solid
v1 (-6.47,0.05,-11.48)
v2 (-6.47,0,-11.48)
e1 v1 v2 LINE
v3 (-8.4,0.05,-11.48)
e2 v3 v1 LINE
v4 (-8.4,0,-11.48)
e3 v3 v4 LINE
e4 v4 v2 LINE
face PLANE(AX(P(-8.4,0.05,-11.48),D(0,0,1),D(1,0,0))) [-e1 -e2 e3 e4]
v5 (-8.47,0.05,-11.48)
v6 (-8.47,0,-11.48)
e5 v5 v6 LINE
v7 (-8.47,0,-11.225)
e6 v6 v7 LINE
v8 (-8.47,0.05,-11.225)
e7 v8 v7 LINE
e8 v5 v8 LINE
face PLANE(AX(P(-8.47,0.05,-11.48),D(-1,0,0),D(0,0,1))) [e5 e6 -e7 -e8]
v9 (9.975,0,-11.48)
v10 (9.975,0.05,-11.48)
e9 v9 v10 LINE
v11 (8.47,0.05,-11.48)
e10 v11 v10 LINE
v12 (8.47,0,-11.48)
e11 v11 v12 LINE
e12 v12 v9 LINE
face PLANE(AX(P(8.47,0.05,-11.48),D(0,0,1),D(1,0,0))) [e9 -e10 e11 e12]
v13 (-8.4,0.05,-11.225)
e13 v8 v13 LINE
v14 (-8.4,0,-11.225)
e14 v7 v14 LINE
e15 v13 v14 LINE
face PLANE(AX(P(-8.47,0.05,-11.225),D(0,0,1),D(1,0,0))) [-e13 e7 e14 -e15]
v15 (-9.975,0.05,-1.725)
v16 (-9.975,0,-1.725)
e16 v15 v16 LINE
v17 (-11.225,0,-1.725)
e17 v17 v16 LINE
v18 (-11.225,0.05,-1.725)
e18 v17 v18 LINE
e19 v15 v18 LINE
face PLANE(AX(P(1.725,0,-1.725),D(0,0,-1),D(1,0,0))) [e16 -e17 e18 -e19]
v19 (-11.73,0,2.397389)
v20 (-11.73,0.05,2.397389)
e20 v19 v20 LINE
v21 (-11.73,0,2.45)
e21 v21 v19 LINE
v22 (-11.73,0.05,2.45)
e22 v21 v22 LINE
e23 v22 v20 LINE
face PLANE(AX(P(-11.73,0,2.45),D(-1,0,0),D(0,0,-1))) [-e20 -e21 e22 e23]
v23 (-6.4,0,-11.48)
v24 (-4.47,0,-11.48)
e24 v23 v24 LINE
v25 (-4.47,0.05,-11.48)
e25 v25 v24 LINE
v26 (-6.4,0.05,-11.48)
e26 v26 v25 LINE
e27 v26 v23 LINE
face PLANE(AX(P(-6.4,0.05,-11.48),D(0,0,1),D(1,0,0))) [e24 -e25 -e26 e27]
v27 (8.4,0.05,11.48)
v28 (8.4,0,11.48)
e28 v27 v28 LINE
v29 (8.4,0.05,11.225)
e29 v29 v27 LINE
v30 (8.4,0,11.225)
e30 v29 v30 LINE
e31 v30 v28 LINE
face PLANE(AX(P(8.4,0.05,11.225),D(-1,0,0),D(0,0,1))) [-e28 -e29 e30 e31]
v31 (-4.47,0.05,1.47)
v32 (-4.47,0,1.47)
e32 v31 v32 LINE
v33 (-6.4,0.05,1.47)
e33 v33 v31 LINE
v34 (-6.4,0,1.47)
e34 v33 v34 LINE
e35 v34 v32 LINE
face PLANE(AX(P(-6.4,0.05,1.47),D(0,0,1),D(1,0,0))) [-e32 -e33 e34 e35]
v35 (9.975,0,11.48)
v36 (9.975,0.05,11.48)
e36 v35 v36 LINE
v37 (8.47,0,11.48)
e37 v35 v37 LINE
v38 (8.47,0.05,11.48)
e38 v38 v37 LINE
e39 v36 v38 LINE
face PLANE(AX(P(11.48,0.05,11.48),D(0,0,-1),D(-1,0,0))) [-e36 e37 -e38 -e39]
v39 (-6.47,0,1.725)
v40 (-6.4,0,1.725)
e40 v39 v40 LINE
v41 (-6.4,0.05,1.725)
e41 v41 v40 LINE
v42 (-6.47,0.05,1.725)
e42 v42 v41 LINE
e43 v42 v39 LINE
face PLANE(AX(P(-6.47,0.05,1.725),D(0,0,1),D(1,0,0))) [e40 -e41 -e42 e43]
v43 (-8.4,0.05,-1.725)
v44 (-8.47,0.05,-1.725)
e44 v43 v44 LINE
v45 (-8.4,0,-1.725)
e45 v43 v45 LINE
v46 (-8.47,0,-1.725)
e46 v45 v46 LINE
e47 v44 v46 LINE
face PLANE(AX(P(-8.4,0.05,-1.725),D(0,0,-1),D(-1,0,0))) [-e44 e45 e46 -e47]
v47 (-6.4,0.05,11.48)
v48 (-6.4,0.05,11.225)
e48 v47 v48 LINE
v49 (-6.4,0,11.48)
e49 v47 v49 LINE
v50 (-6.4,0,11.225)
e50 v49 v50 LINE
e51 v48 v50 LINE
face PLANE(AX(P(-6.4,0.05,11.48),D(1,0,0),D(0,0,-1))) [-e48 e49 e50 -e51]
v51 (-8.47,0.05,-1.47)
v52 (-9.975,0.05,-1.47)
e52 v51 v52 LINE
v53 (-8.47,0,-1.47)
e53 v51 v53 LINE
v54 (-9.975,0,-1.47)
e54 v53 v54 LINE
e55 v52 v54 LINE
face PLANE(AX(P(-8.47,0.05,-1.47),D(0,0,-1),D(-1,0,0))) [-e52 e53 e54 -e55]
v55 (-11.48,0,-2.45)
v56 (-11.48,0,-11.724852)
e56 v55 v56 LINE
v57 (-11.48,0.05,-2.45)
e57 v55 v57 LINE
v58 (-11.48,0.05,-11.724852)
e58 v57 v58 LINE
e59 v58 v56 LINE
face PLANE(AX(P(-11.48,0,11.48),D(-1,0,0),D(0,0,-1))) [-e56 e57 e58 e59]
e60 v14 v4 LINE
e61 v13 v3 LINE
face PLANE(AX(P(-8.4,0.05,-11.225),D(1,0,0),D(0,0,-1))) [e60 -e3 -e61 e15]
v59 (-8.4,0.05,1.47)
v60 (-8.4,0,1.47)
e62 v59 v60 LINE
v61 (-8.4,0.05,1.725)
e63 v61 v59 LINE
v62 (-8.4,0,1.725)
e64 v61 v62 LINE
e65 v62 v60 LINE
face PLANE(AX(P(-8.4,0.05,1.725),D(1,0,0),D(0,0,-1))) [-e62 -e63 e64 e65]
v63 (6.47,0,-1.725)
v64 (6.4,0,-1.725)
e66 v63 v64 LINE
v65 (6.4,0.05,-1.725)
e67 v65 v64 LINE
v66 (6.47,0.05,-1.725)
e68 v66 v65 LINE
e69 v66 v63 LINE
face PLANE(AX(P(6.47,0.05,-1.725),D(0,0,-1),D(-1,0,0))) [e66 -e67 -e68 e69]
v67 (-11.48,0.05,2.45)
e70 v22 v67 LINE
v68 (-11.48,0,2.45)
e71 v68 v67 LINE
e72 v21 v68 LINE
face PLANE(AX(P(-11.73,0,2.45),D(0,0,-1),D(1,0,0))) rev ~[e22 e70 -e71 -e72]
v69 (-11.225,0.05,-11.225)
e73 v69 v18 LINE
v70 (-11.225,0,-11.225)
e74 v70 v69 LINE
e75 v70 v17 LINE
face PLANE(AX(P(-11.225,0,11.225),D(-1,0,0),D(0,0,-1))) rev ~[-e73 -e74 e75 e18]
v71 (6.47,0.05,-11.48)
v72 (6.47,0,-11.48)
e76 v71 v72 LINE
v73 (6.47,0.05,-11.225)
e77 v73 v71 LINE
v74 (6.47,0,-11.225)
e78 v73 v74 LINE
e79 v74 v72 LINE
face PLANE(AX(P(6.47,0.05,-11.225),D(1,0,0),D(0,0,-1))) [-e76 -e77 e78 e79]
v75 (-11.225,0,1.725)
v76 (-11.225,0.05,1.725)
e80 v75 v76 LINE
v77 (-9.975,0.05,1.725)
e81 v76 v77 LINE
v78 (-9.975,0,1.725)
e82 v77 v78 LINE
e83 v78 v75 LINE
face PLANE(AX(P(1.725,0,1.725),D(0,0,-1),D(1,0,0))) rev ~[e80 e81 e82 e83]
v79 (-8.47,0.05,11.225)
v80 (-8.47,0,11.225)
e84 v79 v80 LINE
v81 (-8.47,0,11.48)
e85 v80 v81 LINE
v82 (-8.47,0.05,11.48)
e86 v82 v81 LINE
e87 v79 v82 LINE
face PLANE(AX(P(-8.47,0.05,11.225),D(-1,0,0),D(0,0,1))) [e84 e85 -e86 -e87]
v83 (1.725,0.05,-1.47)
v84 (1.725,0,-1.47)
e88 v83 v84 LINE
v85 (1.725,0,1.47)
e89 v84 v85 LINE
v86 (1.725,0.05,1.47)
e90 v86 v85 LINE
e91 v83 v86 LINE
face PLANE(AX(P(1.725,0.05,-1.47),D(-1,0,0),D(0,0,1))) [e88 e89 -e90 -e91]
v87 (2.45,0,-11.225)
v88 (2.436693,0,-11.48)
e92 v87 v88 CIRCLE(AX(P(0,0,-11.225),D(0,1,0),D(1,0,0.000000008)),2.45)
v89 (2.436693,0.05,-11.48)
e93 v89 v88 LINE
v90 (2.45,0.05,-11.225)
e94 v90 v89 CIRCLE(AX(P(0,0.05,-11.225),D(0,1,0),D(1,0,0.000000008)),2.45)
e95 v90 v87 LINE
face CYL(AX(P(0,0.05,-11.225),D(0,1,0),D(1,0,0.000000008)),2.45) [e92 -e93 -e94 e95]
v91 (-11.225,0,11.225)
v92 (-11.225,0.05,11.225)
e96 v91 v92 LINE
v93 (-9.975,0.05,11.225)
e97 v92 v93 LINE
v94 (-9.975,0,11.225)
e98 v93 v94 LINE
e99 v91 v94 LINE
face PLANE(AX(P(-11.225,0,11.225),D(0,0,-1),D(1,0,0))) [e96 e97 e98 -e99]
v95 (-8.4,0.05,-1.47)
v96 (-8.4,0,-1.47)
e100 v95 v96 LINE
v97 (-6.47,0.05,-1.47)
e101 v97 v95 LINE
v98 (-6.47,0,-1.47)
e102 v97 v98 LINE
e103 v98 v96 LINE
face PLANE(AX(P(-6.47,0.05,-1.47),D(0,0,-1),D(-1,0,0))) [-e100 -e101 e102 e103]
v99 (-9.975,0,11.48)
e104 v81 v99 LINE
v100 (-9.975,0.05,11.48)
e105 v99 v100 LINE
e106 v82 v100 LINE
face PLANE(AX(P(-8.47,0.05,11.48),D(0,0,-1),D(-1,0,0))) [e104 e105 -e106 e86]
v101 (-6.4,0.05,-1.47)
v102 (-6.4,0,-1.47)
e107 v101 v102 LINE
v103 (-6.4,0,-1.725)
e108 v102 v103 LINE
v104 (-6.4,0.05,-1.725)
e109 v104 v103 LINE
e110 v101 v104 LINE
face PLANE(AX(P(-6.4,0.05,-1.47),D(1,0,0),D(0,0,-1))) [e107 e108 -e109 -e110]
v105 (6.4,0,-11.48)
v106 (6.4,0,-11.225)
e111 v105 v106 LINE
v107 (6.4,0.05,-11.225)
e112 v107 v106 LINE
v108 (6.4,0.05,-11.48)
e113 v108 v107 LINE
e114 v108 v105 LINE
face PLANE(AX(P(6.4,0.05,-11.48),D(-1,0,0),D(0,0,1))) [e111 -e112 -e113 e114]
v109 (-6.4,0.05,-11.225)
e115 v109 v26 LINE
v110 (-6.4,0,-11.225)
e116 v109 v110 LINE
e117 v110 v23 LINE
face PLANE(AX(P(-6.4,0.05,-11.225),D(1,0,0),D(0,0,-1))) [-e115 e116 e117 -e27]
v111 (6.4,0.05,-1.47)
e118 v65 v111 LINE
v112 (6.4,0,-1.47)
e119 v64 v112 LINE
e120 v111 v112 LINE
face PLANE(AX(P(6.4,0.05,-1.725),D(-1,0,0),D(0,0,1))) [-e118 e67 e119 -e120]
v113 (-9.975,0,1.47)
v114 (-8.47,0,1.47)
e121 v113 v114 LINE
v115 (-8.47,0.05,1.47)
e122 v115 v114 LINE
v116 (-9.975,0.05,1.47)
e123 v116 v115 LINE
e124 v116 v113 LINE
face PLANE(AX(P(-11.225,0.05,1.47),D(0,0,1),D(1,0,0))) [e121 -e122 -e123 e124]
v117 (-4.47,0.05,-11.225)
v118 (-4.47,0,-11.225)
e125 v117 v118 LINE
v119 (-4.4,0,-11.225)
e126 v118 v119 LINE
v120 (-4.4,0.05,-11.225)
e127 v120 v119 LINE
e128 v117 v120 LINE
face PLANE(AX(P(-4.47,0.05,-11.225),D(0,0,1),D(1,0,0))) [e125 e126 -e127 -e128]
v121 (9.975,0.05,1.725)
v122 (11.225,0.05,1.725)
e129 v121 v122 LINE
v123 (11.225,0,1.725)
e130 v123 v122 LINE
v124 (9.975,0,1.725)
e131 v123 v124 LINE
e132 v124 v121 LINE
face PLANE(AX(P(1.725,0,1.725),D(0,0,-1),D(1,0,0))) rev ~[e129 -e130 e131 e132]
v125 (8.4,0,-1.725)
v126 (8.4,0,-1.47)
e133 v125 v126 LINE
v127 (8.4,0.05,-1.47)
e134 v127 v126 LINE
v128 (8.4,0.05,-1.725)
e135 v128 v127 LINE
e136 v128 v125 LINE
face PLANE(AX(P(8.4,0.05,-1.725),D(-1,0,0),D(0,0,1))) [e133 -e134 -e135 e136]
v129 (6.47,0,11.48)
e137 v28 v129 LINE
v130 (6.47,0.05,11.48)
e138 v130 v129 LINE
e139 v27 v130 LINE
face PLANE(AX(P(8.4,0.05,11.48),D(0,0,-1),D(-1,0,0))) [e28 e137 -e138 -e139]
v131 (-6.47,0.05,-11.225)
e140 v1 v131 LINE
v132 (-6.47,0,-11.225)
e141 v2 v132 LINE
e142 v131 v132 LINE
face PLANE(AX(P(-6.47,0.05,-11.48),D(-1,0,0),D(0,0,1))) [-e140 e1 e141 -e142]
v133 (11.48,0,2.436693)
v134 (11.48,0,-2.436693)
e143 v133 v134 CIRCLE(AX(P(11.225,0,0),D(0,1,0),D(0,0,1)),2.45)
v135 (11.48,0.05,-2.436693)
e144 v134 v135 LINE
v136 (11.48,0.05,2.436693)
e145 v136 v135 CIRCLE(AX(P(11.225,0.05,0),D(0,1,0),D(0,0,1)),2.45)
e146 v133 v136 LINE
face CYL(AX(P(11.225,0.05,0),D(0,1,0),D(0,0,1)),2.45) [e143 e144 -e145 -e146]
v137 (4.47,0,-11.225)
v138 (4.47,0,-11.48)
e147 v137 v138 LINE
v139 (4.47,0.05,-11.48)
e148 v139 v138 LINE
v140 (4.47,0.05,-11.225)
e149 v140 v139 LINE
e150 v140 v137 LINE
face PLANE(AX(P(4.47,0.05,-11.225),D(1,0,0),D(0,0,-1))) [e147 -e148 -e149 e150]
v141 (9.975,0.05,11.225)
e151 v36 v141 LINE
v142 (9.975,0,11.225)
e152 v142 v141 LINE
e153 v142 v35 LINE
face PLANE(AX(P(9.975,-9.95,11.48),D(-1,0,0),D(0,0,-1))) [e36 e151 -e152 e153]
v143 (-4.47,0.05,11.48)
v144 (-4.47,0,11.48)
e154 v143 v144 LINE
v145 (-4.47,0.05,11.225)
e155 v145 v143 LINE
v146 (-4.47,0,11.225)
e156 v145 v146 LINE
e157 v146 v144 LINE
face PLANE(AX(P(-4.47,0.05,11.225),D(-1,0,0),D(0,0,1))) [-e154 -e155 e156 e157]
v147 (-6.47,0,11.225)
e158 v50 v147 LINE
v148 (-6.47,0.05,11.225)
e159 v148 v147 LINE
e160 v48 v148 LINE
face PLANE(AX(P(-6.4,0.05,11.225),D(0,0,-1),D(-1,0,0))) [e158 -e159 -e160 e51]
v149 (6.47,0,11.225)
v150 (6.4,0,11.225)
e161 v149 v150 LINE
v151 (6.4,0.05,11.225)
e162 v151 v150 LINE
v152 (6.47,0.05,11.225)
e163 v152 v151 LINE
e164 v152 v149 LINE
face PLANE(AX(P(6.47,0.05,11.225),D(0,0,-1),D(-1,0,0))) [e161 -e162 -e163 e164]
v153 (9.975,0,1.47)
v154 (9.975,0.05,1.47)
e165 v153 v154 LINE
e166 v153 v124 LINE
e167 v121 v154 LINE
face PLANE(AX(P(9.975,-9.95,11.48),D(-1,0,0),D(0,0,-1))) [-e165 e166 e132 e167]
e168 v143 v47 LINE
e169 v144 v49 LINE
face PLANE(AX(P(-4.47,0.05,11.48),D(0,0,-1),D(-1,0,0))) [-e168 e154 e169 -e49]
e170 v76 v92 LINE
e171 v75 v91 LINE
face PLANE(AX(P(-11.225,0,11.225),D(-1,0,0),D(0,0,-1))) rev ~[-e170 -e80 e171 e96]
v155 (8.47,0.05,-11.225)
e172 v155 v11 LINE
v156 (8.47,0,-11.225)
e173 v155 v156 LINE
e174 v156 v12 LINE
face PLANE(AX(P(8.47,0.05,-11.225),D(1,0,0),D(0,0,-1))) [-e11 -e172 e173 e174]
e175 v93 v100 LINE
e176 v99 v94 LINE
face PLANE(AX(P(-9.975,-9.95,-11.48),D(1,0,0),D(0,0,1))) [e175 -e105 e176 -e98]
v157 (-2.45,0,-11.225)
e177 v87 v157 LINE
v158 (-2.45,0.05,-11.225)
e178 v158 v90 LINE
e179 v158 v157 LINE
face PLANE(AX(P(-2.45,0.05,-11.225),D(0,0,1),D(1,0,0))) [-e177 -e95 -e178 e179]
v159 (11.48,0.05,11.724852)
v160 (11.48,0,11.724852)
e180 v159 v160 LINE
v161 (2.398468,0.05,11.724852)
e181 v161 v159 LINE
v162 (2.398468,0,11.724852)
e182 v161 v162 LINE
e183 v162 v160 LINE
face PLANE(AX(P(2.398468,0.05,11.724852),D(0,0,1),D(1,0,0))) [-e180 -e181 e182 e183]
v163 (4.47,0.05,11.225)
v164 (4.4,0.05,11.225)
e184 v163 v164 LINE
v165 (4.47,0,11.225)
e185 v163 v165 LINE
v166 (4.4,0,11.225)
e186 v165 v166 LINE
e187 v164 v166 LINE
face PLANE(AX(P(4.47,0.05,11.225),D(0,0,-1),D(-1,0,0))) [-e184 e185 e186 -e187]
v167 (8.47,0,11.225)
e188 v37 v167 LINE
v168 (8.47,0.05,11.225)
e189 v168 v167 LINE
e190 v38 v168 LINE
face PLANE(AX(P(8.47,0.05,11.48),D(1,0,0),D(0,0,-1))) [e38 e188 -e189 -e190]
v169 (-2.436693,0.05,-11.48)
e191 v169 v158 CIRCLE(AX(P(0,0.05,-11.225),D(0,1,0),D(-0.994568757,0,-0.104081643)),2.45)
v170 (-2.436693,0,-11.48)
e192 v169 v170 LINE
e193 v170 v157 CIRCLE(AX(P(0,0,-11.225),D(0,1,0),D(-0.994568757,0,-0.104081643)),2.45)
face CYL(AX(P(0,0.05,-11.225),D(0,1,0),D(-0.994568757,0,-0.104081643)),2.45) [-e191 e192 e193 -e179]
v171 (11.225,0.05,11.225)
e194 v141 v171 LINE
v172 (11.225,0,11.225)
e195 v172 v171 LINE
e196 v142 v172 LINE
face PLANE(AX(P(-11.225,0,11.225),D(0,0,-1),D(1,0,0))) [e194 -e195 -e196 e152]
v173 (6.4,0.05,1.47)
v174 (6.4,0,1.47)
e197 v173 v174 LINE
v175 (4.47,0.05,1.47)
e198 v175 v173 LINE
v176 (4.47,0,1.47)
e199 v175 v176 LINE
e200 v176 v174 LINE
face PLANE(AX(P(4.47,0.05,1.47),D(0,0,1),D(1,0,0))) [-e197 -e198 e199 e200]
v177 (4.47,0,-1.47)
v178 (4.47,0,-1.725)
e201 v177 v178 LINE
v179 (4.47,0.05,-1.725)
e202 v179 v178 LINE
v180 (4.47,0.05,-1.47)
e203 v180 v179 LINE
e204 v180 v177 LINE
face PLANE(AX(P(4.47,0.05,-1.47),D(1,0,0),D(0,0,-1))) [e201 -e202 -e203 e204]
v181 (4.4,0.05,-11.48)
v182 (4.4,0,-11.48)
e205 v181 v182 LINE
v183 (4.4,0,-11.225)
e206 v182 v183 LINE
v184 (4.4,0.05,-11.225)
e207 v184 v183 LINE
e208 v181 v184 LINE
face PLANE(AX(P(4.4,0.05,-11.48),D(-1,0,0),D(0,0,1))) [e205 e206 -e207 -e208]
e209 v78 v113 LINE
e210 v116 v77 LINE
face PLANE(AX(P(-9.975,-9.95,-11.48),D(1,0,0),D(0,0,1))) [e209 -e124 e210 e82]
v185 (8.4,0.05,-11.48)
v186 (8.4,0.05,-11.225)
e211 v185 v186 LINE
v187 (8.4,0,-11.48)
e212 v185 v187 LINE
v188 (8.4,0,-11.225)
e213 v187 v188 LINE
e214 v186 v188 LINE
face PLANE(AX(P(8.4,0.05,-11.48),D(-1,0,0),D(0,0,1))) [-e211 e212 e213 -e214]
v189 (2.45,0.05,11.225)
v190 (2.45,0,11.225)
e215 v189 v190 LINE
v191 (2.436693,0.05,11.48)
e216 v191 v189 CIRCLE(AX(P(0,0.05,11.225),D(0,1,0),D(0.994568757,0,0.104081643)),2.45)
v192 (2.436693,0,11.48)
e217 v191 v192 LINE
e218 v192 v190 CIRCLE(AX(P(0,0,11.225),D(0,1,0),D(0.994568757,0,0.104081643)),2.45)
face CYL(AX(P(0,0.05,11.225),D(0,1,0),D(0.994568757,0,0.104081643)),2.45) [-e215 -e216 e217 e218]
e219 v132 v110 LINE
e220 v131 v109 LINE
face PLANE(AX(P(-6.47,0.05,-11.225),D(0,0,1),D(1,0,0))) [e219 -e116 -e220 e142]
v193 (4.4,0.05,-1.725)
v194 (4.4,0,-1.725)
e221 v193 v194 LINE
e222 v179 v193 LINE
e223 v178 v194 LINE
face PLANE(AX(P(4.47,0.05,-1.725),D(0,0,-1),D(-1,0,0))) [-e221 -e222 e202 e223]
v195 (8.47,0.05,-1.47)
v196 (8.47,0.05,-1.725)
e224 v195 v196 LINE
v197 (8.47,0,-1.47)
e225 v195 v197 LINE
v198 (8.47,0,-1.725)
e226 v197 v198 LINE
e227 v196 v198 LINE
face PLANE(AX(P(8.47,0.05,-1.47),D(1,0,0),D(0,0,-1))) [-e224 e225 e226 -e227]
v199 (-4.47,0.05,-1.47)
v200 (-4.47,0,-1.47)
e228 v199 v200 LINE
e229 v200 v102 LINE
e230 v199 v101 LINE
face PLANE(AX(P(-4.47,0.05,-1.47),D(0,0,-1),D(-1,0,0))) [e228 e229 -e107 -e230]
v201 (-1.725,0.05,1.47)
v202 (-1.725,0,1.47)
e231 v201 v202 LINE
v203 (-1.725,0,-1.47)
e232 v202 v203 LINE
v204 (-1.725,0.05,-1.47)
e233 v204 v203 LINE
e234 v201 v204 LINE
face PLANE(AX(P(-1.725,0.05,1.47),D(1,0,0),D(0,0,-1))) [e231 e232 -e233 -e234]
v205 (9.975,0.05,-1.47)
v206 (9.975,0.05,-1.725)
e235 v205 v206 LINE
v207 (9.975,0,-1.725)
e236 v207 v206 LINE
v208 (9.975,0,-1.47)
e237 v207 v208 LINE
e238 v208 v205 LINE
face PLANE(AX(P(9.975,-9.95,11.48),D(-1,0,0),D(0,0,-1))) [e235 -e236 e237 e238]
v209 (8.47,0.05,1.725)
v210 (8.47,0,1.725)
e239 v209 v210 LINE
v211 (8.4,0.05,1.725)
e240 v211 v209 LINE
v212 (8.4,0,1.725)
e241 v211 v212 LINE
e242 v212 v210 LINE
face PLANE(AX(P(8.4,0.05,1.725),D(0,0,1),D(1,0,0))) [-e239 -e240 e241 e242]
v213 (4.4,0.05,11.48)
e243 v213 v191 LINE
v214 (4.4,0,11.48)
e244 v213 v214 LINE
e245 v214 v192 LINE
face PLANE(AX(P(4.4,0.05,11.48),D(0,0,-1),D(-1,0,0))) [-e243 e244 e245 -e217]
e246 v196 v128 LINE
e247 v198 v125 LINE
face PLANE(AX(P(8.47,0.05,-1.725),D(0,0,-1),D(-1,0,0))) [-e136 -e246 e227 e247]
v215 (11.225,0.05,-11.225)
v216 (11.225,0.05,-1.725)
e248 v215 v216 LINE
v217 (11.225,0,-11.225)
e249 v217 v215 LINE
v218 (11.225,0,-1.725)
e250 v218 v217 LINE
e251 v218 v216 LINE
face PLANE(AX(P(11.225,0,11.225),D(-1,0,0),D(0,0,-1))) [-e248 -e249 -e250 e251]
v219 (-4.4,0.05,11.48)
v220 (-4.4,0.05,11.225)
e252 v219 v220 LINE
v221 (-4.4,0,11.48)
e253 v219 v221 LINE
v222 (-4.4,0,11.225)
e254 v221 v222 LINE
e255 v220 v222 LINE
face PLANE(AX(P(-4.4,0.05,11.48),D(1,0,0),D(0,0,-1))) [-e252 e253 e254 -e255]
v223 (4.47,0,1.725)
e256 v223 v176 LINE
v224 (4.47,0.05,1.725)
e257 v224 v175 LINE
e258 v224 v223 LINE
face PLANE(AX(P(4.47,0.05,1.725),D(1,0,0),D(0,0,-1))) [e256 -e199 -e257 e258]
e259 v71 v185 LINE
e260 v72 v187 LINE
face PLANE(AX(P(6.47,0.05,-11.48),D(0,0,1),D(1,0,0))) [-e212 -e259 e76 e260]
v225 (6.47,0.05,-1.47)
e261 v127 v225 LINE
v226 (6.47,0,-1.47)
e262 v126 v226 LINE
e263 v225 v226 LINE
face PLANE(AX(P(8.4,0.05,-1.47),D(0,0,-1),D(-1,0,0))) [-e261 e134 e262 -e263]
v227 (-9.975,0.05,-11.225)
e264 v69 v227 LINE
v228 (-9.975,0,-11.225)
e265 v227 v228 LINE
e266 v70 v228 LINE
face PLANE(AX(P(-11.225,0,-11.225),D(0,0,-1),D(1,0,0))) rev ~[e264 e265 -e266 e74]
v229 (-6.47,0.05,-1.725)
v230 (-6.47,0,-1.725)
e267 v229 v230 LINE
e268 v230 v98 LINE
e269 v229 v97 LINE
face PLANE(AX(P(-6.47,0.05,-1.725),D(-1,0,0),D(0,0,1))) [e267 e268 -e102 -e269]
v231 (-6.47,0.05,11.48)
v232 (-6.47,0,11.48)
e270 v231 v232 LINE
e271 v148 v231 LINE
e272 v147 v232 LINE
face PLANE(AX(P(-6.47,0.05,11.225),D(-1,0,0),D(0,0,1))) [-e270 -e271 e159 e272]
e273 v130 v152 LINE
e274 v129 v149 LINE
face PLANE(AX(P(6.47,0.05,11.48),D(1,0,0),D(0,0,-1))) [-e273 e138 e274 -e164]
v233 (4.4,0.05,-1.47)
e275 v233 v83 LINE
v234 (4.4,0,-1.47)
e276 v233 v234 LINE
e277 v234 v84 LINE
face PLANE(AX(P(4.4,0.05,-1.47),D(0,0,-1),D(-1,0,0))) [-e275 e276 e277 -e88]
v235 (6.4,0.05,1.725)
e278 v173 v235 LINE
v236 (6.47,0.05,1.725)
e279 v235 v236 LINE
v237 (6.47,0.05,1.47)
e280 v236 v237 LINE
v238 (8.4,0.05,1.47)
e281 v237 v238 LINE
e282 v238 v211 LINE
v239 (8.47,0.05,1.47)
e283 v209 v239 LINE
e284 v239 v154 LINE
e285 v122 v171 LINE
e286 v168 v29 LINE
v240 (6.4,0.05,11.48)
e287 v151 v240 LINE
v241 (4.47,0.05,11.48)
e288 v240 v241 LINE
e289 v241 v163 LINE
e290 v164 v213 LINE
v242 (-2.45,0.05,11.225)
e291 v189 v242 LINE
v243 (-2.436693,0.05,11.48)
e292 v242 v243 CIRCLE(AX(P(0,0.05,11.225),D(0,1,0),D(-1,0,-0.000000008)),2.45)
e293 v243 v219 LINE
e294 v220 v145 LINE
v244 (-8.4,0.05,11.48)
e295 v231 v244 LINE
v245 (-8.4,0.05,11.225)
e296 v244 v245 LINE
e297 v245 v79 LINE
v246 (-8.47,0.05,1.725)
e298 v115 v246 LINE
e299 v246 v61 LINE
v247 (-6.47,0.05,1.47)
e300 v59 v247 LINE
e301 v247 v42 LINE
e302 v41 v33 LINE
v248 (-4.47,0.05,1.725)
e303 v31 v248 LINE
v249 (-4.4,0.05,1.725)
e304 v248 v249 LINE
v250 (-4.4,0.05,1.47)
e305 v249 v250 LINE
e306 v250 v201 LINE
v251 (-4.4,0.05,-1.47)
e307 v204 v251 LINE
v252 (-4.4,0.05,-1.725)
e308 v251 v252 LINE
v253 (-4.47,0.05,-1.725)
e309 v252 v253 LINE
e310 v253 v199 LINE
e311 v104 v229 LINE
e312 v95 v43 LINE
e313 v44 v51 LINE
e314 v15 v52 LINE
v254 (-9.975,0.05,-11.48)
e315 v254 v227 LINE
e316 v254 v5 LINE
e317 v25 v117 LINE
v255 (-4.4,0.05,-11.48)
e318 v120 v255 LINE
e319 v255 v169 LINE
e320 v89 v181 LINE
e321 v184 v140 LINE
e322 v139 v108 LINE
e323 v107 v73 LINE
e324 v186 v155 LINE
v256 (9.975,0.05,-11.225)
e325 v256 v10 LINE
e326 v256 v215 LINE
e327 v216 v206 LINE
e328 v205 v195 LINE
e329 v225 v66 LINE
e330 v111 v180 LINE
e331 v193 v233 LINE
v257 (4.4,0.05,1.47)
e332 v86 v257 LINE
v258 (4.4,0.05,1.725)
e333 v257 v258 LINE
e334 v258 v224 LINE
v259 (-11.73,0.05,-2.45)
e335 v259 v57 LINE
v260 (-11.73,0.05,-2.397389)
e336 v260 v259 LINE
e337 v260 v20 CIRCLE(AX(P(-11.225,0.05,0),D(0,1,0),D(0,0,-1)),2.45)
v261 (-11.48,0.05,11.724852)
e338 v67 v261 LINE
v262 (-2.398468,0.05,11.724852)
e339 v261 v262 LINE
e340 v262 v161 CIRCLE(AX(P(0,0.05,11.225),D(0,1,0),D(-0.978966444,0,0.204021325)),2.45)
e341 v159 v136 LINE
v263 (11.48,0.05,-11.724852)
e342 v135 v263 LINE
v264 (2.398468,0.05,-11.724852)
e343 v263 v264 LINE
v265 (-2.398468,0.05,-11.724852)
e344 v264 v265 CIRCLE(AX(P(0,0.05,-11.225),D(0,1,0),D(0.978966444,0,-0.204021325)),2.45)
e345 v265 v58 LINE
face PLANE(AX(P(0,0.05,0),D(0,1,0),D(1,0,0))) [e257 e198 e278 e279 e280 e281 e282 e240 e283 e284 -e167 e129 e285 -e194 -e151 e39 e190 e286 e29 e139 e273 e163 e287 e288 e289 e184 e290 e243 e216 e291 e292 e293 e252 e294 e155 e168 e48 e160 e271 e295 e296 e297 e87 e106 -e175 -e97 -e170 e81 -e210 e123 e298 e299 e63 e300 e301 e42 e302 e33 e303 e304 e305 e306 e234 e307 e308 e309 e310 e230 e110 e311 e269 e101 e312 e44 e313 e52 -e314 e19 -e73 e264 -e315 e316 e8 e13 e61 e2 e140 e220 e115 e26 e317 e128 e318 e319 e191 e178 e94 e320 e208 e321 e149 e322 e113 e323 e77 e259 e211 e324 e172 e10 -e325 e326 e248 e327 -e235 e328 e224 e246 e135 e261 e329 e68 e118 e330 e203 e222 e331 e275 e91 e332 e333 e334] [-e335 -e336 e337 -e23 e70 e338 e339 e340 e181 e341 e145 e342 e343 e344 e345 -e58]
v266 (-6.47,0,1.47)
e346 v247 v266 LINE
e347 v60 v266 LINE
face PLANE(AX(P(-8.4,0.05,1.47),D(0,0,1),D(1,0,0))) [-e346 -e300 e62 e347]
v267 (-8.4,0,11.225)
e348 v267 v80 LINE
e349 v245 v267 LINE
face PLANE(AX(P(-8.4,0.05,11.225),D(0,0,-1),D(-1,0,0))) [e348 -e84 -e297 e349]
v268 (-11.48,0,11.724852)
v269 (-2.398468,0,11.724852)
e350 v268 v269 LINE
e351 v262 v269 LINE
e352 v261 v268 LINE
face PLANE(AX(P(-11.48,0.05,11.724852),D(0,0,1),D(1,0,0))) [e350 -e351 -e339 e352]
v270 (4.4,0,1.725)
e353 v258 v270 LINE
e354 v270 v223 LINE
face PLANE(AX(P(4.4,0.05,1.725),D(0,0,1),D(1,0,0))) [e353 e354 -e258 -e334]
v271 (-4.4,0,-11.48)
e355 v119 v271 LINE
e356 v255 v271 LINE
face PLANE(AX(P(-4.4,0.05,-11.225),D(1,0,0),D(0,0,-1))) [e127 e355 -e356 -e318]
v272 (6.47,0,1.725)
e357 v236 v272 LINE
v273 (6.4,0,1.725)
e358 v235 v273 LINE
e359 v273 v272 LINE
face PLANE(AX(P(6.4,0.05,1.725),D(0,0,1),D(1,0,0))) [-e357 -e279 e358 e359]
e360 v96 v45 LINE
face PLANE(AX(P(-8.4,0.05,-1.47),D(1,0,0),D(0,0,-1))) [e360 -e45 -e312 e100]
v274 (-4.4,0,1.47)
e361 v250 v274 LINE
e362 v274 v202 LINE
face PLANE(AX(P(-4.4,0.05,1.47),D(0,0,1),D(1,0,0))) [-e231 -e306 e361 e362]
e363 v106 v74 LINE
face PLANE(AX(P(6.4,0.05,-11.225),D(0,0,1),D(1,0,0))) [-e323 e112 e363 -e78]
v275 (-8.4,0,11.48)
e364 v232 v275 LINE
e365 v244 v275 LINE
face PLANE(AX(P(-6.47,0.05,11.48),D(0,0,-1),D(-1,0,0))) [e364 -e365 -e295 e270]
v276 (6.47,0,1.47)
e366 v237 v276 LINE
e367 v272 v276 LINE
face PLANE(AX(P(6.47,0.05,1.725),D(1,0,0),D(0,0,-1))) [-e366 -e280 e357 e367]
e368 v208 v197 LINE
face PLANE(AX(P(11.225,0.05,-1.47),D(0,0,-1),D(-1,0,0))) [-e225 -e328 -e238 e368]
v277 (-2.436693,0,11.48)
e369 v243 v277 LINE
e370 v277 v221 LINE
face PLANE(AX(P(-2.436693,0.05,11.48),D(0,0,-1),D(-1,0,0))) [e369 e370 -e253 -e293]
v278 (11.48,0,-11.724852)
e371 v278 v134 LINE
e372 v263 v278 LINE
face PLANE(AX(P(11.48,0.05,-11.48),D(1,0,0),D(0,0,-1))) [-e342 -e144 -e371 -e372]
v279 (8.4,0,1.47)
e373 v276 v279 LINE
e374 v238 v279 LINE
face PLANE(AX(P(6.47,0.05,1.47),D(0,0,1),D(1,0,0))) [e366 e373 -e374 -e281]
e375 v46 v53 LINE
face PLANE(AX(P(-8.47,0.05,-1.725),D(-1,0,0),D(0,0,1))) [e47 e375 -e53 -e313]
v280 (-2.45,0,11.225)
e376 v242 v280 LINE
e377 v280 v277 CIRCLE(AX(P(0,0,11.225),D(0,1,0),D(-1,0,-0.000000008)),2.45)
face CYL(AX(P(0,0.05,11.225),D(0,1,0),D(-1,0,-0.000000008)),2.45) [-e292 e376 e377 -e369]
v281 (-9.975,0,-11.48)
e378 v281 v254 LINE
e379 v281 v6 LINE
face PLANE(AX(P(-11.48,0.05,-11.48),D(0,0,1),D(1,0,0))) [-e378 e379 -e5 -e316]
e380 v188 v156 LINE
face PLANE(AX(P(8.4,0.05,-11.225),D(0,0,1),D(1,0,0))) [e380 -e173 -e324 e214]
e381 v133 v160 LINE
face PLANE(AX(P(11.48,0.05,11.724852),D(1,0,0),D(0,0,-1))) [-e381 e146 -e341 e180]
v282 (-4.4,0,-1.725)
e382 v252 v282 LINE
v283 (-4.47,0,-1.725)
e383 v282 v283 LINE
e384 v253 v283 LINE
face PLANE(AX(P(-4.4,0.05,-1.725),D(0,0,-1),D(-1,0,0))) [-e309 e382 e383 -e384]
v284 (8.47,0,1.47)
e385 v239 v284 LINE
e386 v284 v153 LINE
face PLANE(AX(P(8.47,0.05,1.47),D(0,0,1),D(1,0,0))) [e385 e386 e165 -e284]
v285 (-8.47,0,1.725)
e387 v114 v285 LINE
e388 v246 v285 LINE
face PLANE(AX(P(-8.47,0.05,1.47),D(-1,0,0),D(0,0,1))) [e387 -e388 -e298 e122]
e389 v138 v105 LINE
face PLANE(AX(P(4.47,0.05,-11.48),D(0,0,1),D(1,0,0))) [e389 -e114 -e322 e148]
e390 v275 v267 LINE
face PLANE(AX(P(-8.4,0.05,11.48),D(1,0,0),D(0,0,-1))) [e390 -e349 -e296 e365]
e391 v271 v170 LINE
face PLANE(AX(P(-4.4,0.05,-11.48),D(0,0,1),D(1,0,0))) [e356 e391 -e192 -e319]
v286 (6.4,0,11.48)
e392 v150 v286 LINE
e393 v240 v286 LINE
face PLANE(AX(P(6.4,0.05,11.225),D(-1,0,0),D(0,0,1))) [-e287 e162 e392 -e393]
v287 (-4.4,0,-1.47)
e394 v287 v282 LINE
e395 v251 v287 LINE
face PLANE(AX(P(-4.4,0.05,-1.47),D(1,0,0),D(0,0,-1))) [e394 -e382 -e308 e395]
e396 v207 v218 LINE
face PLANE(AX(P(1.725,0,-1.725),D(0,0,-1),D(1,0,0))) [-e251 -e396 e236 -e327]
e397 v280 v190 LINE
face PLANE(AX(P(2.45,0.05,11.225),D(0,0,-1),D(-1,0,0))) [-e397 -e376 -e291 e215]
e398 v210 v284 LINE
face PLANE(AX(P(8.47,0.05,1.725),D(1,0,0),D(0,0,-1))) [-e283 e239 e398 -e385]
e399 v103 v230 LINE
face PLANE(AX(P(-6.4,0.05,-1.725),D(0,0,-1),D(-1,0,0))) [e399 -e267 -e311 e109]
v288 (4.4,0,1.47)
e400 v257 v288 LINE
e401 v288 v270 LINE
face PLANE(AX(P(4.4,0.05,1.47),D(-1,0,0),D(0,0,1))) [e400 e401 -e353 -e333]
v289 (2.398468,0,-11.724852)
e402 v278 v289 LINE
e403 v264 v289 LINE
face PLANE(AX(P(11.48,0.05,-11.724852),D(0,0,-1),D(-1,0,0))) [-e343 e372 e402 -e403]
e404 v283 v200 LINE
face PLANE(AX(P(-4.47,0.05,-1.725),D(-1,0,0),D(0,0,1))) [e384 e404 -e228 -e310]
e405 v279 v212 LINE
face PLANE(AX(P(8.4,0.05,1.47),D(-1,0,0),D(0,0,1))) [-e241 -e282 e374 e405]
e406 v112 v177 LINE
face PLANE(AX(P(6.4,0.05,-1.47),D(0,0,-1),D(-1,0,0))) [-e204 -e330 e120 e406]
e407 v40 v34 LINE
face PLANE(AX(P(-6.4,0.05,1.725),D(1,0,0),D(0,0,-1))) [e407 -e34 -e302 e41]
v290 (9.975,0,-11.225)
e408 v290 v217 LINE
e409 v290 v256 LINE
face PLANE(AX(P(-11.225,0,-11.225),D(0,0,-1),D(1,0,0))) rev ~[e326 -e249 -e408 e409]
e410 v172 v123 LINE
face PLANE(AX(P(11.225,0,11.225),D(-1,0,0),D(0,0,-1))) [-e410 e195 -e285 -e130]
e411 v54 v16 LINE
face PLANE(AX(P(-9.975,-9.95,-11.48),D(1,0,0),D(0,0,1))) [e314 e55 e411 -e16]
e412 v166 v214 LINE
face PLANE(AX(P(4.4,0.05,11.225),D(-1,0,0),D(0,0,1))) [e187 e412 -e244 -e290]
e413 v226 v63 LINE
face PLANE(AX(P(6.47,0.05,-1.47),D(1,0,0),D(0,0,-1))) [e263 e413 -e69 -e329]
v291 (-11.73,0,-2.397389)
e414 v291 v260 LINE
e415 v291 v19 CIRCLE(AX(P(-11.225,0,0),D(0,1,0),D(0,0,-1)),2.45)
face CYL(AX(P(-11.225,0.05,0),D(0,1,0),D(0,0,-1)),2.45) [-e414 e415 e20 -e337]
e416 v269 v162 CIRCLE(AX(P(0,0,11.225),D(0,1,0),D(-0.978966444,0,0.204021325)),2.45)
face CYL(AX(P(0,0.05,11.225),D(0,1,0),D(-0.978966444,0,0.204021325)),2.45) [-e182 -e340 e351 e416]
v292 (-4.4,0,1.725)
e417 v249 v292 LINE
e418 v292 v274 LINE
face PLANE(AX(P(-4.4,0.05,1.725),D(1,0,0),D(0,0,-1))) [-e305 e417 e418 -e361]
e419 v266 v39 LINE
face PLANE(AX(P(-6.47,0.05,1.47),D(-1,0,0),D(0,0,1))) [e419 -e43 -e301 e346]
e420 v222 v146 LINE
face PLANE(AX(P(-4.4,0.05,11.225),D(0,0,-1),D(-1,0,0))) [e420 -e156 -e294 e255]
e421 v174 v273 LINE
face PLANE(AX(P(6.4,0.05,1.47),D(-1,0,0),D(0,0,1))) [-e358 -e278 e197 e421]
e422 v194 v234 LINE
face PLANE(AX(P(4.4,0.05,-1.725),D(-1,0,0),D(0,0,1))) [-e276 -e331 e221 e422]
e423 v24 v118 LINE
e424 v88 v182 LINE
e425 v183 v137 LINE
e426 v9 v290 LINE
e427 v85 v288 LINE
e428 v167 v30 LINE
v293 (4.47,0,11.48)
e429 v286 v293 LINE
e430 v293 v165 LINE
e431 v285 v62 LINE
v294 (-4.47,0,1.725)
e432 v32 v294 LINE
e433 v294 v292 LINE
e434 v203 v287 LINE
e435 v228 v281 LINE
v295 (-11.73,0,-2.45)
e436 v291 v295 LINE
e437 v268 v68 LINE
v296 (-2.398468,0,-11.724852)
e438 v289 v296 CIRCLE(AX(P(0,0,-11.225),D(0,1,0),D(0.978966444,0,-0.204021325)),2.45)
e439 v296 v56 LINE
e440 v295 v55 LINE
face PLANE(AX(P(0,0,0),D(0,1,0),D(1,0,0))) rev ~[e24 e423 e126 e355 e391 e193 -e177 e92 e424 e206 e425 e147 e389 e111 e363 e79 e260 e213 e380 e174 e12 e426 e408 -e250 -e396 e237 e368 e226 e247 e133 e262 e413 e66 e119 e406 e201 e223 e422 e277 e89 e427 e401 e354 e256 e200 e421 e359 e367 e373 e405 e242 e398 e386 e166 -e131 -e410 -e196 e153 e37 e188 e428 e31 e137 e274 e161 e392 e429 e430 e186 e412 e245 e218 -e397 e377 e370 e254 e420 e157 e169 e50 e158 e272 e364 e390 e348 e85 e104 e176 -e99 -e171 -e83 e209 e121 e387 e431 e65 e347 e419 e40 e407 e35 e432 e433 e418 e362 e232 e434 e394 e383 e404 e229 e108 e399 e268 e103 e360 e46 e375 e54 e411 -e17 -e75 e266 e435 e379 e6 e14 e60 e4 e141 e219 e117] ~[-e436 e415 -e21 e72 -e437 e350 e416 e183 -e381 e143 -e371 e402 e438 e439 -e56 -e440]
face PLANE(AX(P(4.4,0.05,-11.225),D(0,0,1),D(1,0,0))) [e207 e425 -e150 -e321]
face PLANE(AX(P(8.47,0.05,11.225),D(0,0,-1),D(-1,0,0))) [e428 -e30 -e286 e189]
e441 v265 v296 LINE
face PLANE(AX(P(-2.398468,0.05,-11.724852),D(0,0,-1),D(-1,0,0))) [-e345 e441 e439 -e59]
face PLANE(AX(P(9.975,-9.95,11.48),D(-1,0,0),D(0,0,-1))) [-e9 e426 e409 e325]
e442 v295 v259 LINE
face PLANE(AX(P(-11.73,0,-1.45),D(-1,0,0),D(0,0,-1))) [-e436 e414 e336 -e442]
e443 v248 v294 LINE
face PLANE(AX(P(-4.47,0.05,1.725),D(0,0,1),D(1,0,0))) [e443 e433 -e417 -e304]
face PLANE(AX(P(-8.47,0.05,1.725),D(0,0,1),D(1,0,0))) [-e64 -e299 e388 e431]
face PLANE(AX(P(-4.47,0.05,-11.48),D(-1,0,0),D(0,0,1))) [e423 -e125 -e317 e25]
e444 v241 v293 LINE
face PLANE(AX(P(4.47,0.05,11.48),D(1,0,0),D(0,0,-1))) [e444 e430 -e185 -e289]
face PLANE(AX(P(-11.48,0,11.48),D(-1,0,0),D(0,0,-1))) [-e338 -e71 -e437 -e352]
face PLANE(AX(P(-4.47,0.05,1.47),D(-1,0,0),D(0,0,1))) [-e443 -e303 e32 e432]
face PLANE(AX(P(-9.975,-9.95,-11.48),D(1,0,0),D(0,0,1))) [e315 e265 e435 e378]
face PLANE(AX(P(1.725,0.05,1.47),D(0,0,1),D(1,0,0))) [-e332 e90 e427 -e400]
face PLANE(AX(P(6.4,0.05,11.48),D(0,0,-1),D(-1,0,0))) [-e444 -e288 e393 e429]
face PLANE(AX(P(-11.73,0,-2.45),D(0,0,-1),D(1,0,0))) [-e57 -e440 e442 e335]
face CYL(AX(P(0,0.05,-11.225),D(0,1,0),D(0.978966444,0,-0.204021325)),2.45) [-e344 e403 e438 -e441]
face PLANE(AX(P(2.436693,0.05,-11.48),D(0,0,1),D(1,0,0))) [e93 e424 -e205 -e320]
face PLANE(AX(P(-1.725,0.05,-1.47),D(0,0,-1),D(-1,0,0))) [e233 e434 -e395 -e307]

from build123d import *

# Parameters (mm, degrees)
SKETCH1_W           = 22.96
SKETCH1_H           = 22.96
SKETCH1_W_2         = 22.45
SKETCH1_H_2         = 22.45
SKETCH1_W_3         = 9.5
SKETCH1_H_3         = 0.255
SKETCH1_W_4         = 3.45
SKETCH1_H_4         = 3.45
SKETCH1_R           = 0.975
SKETCH1_W_5         = 0.25
SKETCH1_H_5         = 1
BOSS_EXTRUDE5_DEPTH = 0.05
SKETCH2_W           = 0.07
SKETCH2_H           = 0.5
CUT_EXTRUDE1_DEPTH  = 10
CUT_EXTRUDE3_START  = -10
SKETCH3_R           = 0.975
SKETCH3_W           = 0.561213406
SKETCH3_H           = 2.94
SKETCH3_W_2         = 2.113786594
SKETCH3_H_2         = 0.255
CUT_EXTRUDE3_DEPTH  = 10
BOSS_EXTRUDE7_DEPTH = 0.05


with BuildPart() as part:
    # Sketch1 → Boss-Extrude5 (new body)
    # profile 1 of 8: a face of its own
    with BuildSketch(Plane(origin=(0, 0, 0), x_dir=(1, 0, 0), z_dir=(0, 1, 0))):
        Rectangle(SKETCH1_W, SKETCH1_H)
        Rectangle(SKETCH1_W_2, SKETCH1_H_2, mode=Mode.SUBTRACT)
    # profile 2 of 8: a face of its own
    with BuildSketch(Plane(origin=(0, 0, 0), x_dir=(1, 0, 0), z_dir=(0, 1, 0))):
        with Locations((-6.475, -1.5975)):
            Rectangle(SKETCH1_W_3, SKETCH1_H_3)
    # profile 3 of 8: a face of its own
    with BuildSketch(Plane(origin=(0, 0, 0), x_dir=(1, 0, 0), z_dir=(0, 1, 0))):
        with Locations((-6.475, 1.5975)):
            Rectangle(SKETCH1_W_3, SKETCH1_H_3)
    # profile 4 of 8: a face of its own
    with BuildSketch(Plane(origin=(0, 0, 0), x_dir=(1, 0, 0), z_dir=(0, 1, 0))):
        Rectangle(SKETCH1_W_4, SKETCH1_H_4)
        with Locations(Location((0, 0, 0), (0, 0, 270))):
            Circle(SKETCH1_R, mode=Mode.SUBTRACT)
    # profile 5 of 8: a face of its own
    with BuildSketch(Plane(origin=(0, 0, 0), x_dir=(1, 0, 0), z_dir=(0, 1, 0))):
        with Locations((6.475, 1.5975)):
            Rectangle(SKETCH1_W_3, SKETCH1_H_3)
    # profile 6 of 8: a face of its own
    with BuildSketch(Plane(origin=(0, 0, 0), x_dir=(1, 0, 0), z_dir=(0, 1, 0))):
        with Locations((6.475, -1.5975)):
            Rectangle(SKETCH1_W_3, SKETCH1_H_3)
    # profile 7 of 8: a face of its own
    with BuildSketch(Plane(origin=(0, 0, 0), x_dir=(1, 0, 0), z_dir=(0, 1, 0))):
        with Locations((-11.605, -1.95)):
            Rectangle(SKETCH1_W_5, SKETCH1_H_5)
    # profile 8 of 8: a face of its own
    with BuildSketch(Plane(origin=(0, 0, 0), x_dir=(1, 0, 0), z_dir=(0, 1, 0))):
        with Locations((-11.605, 1.95)):
            Rectangle(SKETCH1_W_5, SKETCH1_H_5)
    extrude(amount=BOSS_EXTRUDE5_DEPTH)

    # Sketch2 → Cut-Extrude1 (cut)
    with BuildSketch(Plane(origin=(0, 0.05, 0), x_dir=(1, 0, 0), z_dir=(0, 1, 0))):
        with Locations((-6.435, 1.475)):
            Rectangle(SKETCH2_W, SKETCH2_H)
        with Locations((-8.435, 1.475)):
            Rectangle(SKETCH2_W, SKETCH2_H)
        with Locations((-4.435, 1.475)):
            Rectangle(SKETCH2_W, SKETCH2_H)
        with Locations((-4.435, 11.475)):
            Rectangle(SKETCH2_W, SKETCH2_H)
        with Locations((-6.435, 11.475)):
            Rectangle(SKETCH2_W, SKETCH2_H)
        with Locations((-8.435, 11.475)):
            Rectangle(SKETCH2_W, SKETCH2_H)
        with Locations((4.435, 1.475)):
            Rectangle(SKETCH2_W, SKETCH2_H)
        with Locations((6.435, 1.475)):
            Rectangle(SKETCH2_W, SKETCH2_H)
        with Locations((8.435, 1.475)):
            Rectangle(SKETCH2_W, SKETCH2_H)
        with Locations((4.435, 11.475)):
            Rectangle(SKETCH2_W, SKETCH2_H)
        with Locations((6.435, 11.475)):
            Rectangle(SKETCH2_W, SKETCH2_H)
        with Locations((8.435, 11.475)):
            Rectangle(SKETCH2_W, SKETCH2_H)
        with Locations((-8.435, -11.475)):
            Rectangle(SKETCH2_W, SKETCH2_H)
        with Locations((-6.435, -11.475)):
            Rectangle(SKETCH2_W, SKETCH2_H)
        with Locations((-4.435, -11.475)):
            Rectangle(SKETCH2_W, SKETCH2_H)
        with Locations((4.435, -11.475)):
            Rectangle(SKETCH2_W, SKETCH2_H)
        with Locations((6.435, -11.475)):
            Rectangle(SKETCH2_W, SKETCH2_H)
        with Locations((8.435, -11.475)):
            Rectangle(SKETCH2_W, SKETCH2_H)
        with Locations((8.435, -1.475)):
            Rectangle(SKETCH2_W, SKETCH2_H)
        with Locations((6.435, -1.475)):
            Rectangle(SKETCH2_W, SKETCH2_H)
        with Locations((4.435, -1.475)):
            Rectangle(SKETCH2_W, SKETCH2_H)
        with Locations((-4.435, -1.475)):
            Rectangle(SKETCH2_W, SKETCH2_H)
        with Locations((-6.435, -1.475)):
            Rectangle(SKETCH2_W, SKETCH2_H)
        with Locations((-8.435, -1.475)):
            Rectangle(SKETCH2_W, SKETCH2_H)
    extrude(amount=-CUT_EXTRUDE1_DEPTH, mode=Mode.SUBTRACT)

    # Sketch3 → Cut-Extrude3 (cut)
    # profile 1 of 9: a face of its own
    with BuildSketch(Plane(origin=(0, 0.05, 0), x_dir=(1, 0, 0), z_dir=(0, 1, 0)).offset(CUT_EXTRUDE3_START)):
        Polygon((-9.975, 11.48), (-9.975, -11.48), (-2.286213406, -11.48), (-2.286213406, -1.725), (-4.4, -1.725), (-4.4, -1.47), (-2.286213406, -1.47), (-2.286213406, 1.47), (-4.4, 1.47), (-4.4, 1.725), (-2.286213406, 1.725), (-2.286213406, 11.48), align=None)
    # profile 2 of 9: a face of its own
    with BuildSketch(Plane(origin=(0, 0.05, 0), x_dir=(1, 0, 0), z_dir=(0, 1, 0)).offset(CUT_EXTRUDE3_START)):
        Polygon((-2.286213406, -1.47), (-2.286213406, -1.725), (0, -1.725), (2.286213406, -1.725), (2.286213406, -1.47), (1.725, -1.47), (1.725, 1.47), (2.286213406, 1.47), (2.286213406, 1.725), (0, 1.725), (-2.286213406, 1.725), (-2.286213406, 1.47), (-1.725, 1.47), (-1.725, -1.47), align=None)
        Circle(SKETCH3_R, mode=Mode.SUBTRACT)
    # profile 3 of 9: a face of its own
    with BuildSketch(Plane(origin=(0, 0.05, 0), x_dir=(1, 0, 0), z_dir=(0, 1, 0)).offset(CUT_EXTRUDE3_START)):
        Polygon((2.286213406, -1.725), (2.286213406, -11.48), (9.975, -11.48), (9.975, 11.48), (2.286213406, 11.48), (2.286213406, 1.725), (4.4, 1.725), (4.4, 1.47), (2.286213406, 1.47), (2.286213406, -1.47), (4.4, -1.47), (4.4, -1.725), align=None)
    # profile 4 of 9: a face of its own
    with BuildSketch(Plane(origin=(0, 0.05, 0), x_dir=(1, 0, 0), z_dir=(0, 1, 0)).offset(CUT_EXTRUDE3_START)):
        with Locations((2.005606703, 0)):
            Rectangle(SKETCH3_W, SKETCH3_H)
    # profile 5 of 9: a face of its own
    with BuildSketch(Plane(origin=(0, 0.05, 0), x_dir=(1, 0, 0), z_dir=(0, 1, 0)).offset(CUT_EXTRUDE3_START)):
        with Locations((-2.005606703, 0)):
            Rectangle(SKETCH3_W, SKETCH3_H)
    # profile 6 of 9: a face of its own
    with BuildSketch(Plane(origin=(0, 0.05, 0), x_dir=(1, 0, 0), z_dir=(0, 1, 0)).offset(CUT_EXTRUDE3_START)):
        with Locations((-3.343106703, 1.5975)):
            Rectangle(SKETCH3_W_2, SKETCH3_H_2)
    # profile 7 of 9: a face of its own
    with BuildSketch(Plane(origin=(0, 0.05, 0), x_dir=(1, 0, 0), z_dir=(0, 1, 0)).offset(CUT_EXTRUDE3_START)):
        with Locations((-3.343106703, -1.5975)):
            Rectangle(SKETCH3_W_2, SKETCH3_H_2)
    # profile 8 of 9: a face of its own
    with BuildSketch(Plane(origin=(0, 0.05, 0), x_dir=(1, 0, 0), z_dir=(0, 1, 0)).offset(CUT_EXTRUDE3_START)):
        with Locations((3.343106703, 1.5975)):
            Rectangle(SKETCH3_W_2, SKETCH3_H_2)
    # profile 9 of 9: a face of its own
    with BuildSketch(Plane(origin=(0, 0.05, 0), x_dir=(1, 0, 0), z_dir=(0, 1, 0)).offset(CUT_EXTRUDE3_START)):
        with Locations((3.343106703, -1.5975)):
            Rectangle(SKETCH3_W_2, SKETCH3_H_2)
    extrude(amount=CUT_EXTRUDE3_DEPTH, mode=Mode.SUBTRACT)

    # Sketch5 → Boss-Extrude7 (add)
    with BuildSketch(Plane(origin=(0, 0.05, 0), x_dir=(1, 0, 0), z_dir=(0, 1, 0))):
        with BuildLine():
            Line((-11.225, 1.47), (-11.225, 2.45))
            ThreePointArc((-11.225, 2.45), (-13.675, 0), (-11.225, -2.45))
            Line((-11.225, -2.45), (-11.225, -1.47))
            Line((-11.225, -1.47), (-8.47, -1.47))
            Line((-8.47, -1.47), (-8.47, -1.725))
            Line((-8.47, -1.725), (-8.4, -1.725))
            Line((-8.4, -1.725), (-8.4, -1.47))
            Line((-8.4, -1.47), (-6.47, -1.47))
            Line((-6.47, -1.47), (-6.47, -1.725))
            Line((-6.47, -1.725), (-6.4, -1.725))
            Line((-6.4, -1.725), (-6.4, -1.47))
            Line((-6.4, -1.47), (-4.47, -1.47))
            Line((-4.47, -1.47), (-4.47, -1.725))
            Line((-4.47, -1.725), (-4.4, -1.725))
            Line((-4.4, -1.725), (-4.4, -1.47))
            Line((-4.4, -1.47), (-1.725, -1.47))
            Line((-1.725, -1.47), (-1.725, 1.47))
            Line((-1.725, 1.47), (-4.4, 1.47))
            Line((-4.4, 1.47), (-4.4, 1.725))
            Line((-4.4, 1.725), (-4.47, 1.725))
            Line((-4.47, 1.725), (-4.47, 1.47))
            Line((-4.47, 1.47), (-6.4, 1.47))
            Line((-6.4, 1.47), (-6.4, 1.725))
            Line((-6.4, 1.725), (-6.47, 1.725))
            Line((-6.47, 1.725), (-6.47, 1.47))
            Line((-6.47, 1.47), (-8.4, 1.47))
            Line((-8.4, 1.47), (-8.4, 1.725))
            Line((-8.4, 1.725), (-8.47, 1.725))
            Line((-8.47, 1.725), (-8.47, 1.47))
            Line((-8.47, 1.47), (-11.225, 1.47))
        make_face()
        with BuildLine():
            Line((-2.45, 11.225), (2.45, 11.225))
            ThreePointArc((2.45, 11.225), (2.446671103, 11.352673474), (2.436693456, 11.48))
            Line((2.436693456, 11.48), (4.4, 11.48))
            Line((4.4, 11.48), (4.4, 11.225))
            Line((4.4, 11.225), (4.47, 11.225))
            Line((4.47, 11.225), (4.47, 11.48))
            Line((4.47, 11.48), (6.4, 11.48))
            Line((6.4, 11.48), (6.4, 11.225))
            Line((6.4, 11.225), (6.47, 11.225))
            Line((6.47, 11.225), (6.47, 11.48))
            Line((6.47, 11.48), (8.4, 11.48))
            Line((8.4, 11.48), (8.4, 11.225))
            Line((8.4, 11.225), (8.47, 11.225))
            Line((8.47, 11.225), (8.47, 11.48))
            Line((8.47, 11.48), (11.48, 11.48))
            Line((11.48, 11.48), (11.48, 11.724852246))
            Line((11.48, 11.724852246), (2.398467788, 11.724852246))
            ThreePointArc((2.398467788, 11.724852246), (0, 13.675), (-2.398467788, 11.724852246))
            Line((-2.398467788, 11.724852246), (-11.48, 11.724852246))
            Line((-11.48, 11.724852246), (-11.48, 11.48))
            Line((-11.48, 11.48), (-8.47, 11.48))
            Line((-8.47, 11.48), (-8.47, 11.225))
            Line((-8.47, 11.225), (-8.4, 11.225))
            Line((-8.4, 11.225), (-8.4, 11.48))
            Line((-8.4, 11.48), (-6.47, 11.48))
            Line((-6.47, 11.48), (-6.47, 11.225))
            Line((-6.47, 11.225), (-6.4, 11.225))
            Line((-6.4, 11.225), (-6.4, 11.48))
            Line((-6.4, 11.48), (-4.47, 11.48))
            Line((-4.47, 11.48), (-4.47, 11.225))
            Line((-4.47, 11.225), (-4.4, 11.225))
            Line((-4.4, 11.225), (-4.4, 11.48))
            Line((-4.4, 11.48), (-2.436693456, 11.48))
            ThreePointArc((-2.436693456, 11.48), (-2.446671103, 11.352673474), (-2.45, 11.225))
        make_face()
        with BuildLine():
            Line((11.225, 2.45), (11.225, 1.47))
            Line((11.225, 1.47), (8.47, 1.47))
            Line((8.47, 1.47), (8.47, 1.725))
            Line((8.47, 1.725), (8.4, 1.725))
            Line((8.4, 1.725), (8.4, 1.47))
            Line((8.4, 1.47), (6.47, 1.47))
            Line((6.47, 1.47), (6.47, 1.725))
            Line((6.47, 1.725), (6.4, 1.725))
            Line((6.4, 1.725), (6.4, 1.47))
            Line((6.4, 1.47), (4.47, 1.47))
            Line((4.47, 1.47), (4.47, 1.725))
            Line((4.47, 1.725), (4.4, 1.725))
            Line((4.4, 1.725), (4.4, 1.47))
            Line((4.4, 1.47), (1.725, 1.47))
            Line((1.725, 1.47), (1.725, -1.47))
            Line((1.725, -1.47), (4.4, -1.47))
            Line((4.4, -1.47), (4.4, -1.725))
            Line((4.4, -1.725), (4.47, -1.725))
            Line((4.47, -1.725), (4.47, -1.47))
            Line((4.47, -1.47), (6.4, -1.47))
            Line((6.4, -1.47), (6.4, -1.725))
            Line((6.4, -1.725), (6.47, -1.725))
            Line((6.47, -1.725), (6.47, -1.47))
            Line((6.47, -1.47), (8.4, -1.47))
            Line((8.4, -1.47), (8.4, -1.725))
            Line((8.4, -1.725), (8.47, -1.725))
            Line((8.47, -1.725), (8.47, -1.47))
            Line((8.47, -1.47), (11.225, -1.47))
            Line((11.225, -1.47), (11.225, -2.45))
            ThreePointArc((11.225, -2.45), (13.675, 0), (11.225, 2.45))
        make_face()
        with BuildLine():
            Line((2.45, -11.225), (-2.45, -11.225))
            ThreePointArc((-2.45, -11.225), (-2.446671103, -11.352673474), (-2.436693456, -11.48))
            Line((-2.436693456, -11.48), (-4.4, -11.48))
            Line((-4.4, -11.48), (-4.4, -11.225))
            Line((-4.4, -11.225), (-4.47, -11.225))
            Line((-4.47, -11.225), (-4.47, -11.48))
            Line((-4.47, -11.48), (-6.4, -11.48))
            Line((-6.4, -11.48), (-6.4, -11.225))
            Line((-6.4, -11.225), (-6.47, -11.225))
            Line((-6.47, -11.225), (-6.47, -11.48))
            Line((-6.47, -11.48), (-8.4, -11.48))
            Line((-8.4, -11.48), (-8.4, -11.225))
            Line((-8.4, -11.225), (-8.47, -11.225))
            Line((-8.47, -11.225), (-8.47, -11.48))
            Line((-8.47, -11.48), (-11.48, -11.48))
            Line((-11.48, -11.48), (-11.48, -11.724852246))
            Line((-11.48, -11.724852246), (-2.398467788, -11.724852246))
            ThreePointArc((-2.398467788, -11.724852246), (0, -13.675), (2.398467788, -11.724852246))
            Line((2.398467788, -11.724852246), (11.48, -11.724852246))
            Line((11.48, -11.724852246), (11.48, -11.48))
            Line((11.48, -11.48), (8.47, -11.48))
            Line((8.47, -11.48), (8.47, -11.225))
            Line((8.47, -11.225), (8.4, -11.225))
            Line((8.4, -11.225), (8.4, -11.48))
            Line((8.4, -11.48), (6.47, -11.48))
            Line((6.47, -11.48), (6.47, -11.225))
            Line((6.47, -11.225), (6.4, -11.225))
            Line((6.4, -11.225), (6.4, -11.48))
            Line((6.4, -11.48), (4.47, -11.48))
            Line((4.47, -11.48), (4.47, -11.225))
            Line((4.47, -11.225), (4.4, -11.225))
            Line((4.4, -11.225), (4.4, -11.48))
            Line((4.4, -11.48), (2.436693456, -11.48))
            ThreePointArc((2.436693456, -11.48), (2.446671103, -11.352673474), (2.45, -11.225))
        make_face()
    extrude(amount=-BOSS_EXTRUDE7_DEPTH)


solid = part.part
